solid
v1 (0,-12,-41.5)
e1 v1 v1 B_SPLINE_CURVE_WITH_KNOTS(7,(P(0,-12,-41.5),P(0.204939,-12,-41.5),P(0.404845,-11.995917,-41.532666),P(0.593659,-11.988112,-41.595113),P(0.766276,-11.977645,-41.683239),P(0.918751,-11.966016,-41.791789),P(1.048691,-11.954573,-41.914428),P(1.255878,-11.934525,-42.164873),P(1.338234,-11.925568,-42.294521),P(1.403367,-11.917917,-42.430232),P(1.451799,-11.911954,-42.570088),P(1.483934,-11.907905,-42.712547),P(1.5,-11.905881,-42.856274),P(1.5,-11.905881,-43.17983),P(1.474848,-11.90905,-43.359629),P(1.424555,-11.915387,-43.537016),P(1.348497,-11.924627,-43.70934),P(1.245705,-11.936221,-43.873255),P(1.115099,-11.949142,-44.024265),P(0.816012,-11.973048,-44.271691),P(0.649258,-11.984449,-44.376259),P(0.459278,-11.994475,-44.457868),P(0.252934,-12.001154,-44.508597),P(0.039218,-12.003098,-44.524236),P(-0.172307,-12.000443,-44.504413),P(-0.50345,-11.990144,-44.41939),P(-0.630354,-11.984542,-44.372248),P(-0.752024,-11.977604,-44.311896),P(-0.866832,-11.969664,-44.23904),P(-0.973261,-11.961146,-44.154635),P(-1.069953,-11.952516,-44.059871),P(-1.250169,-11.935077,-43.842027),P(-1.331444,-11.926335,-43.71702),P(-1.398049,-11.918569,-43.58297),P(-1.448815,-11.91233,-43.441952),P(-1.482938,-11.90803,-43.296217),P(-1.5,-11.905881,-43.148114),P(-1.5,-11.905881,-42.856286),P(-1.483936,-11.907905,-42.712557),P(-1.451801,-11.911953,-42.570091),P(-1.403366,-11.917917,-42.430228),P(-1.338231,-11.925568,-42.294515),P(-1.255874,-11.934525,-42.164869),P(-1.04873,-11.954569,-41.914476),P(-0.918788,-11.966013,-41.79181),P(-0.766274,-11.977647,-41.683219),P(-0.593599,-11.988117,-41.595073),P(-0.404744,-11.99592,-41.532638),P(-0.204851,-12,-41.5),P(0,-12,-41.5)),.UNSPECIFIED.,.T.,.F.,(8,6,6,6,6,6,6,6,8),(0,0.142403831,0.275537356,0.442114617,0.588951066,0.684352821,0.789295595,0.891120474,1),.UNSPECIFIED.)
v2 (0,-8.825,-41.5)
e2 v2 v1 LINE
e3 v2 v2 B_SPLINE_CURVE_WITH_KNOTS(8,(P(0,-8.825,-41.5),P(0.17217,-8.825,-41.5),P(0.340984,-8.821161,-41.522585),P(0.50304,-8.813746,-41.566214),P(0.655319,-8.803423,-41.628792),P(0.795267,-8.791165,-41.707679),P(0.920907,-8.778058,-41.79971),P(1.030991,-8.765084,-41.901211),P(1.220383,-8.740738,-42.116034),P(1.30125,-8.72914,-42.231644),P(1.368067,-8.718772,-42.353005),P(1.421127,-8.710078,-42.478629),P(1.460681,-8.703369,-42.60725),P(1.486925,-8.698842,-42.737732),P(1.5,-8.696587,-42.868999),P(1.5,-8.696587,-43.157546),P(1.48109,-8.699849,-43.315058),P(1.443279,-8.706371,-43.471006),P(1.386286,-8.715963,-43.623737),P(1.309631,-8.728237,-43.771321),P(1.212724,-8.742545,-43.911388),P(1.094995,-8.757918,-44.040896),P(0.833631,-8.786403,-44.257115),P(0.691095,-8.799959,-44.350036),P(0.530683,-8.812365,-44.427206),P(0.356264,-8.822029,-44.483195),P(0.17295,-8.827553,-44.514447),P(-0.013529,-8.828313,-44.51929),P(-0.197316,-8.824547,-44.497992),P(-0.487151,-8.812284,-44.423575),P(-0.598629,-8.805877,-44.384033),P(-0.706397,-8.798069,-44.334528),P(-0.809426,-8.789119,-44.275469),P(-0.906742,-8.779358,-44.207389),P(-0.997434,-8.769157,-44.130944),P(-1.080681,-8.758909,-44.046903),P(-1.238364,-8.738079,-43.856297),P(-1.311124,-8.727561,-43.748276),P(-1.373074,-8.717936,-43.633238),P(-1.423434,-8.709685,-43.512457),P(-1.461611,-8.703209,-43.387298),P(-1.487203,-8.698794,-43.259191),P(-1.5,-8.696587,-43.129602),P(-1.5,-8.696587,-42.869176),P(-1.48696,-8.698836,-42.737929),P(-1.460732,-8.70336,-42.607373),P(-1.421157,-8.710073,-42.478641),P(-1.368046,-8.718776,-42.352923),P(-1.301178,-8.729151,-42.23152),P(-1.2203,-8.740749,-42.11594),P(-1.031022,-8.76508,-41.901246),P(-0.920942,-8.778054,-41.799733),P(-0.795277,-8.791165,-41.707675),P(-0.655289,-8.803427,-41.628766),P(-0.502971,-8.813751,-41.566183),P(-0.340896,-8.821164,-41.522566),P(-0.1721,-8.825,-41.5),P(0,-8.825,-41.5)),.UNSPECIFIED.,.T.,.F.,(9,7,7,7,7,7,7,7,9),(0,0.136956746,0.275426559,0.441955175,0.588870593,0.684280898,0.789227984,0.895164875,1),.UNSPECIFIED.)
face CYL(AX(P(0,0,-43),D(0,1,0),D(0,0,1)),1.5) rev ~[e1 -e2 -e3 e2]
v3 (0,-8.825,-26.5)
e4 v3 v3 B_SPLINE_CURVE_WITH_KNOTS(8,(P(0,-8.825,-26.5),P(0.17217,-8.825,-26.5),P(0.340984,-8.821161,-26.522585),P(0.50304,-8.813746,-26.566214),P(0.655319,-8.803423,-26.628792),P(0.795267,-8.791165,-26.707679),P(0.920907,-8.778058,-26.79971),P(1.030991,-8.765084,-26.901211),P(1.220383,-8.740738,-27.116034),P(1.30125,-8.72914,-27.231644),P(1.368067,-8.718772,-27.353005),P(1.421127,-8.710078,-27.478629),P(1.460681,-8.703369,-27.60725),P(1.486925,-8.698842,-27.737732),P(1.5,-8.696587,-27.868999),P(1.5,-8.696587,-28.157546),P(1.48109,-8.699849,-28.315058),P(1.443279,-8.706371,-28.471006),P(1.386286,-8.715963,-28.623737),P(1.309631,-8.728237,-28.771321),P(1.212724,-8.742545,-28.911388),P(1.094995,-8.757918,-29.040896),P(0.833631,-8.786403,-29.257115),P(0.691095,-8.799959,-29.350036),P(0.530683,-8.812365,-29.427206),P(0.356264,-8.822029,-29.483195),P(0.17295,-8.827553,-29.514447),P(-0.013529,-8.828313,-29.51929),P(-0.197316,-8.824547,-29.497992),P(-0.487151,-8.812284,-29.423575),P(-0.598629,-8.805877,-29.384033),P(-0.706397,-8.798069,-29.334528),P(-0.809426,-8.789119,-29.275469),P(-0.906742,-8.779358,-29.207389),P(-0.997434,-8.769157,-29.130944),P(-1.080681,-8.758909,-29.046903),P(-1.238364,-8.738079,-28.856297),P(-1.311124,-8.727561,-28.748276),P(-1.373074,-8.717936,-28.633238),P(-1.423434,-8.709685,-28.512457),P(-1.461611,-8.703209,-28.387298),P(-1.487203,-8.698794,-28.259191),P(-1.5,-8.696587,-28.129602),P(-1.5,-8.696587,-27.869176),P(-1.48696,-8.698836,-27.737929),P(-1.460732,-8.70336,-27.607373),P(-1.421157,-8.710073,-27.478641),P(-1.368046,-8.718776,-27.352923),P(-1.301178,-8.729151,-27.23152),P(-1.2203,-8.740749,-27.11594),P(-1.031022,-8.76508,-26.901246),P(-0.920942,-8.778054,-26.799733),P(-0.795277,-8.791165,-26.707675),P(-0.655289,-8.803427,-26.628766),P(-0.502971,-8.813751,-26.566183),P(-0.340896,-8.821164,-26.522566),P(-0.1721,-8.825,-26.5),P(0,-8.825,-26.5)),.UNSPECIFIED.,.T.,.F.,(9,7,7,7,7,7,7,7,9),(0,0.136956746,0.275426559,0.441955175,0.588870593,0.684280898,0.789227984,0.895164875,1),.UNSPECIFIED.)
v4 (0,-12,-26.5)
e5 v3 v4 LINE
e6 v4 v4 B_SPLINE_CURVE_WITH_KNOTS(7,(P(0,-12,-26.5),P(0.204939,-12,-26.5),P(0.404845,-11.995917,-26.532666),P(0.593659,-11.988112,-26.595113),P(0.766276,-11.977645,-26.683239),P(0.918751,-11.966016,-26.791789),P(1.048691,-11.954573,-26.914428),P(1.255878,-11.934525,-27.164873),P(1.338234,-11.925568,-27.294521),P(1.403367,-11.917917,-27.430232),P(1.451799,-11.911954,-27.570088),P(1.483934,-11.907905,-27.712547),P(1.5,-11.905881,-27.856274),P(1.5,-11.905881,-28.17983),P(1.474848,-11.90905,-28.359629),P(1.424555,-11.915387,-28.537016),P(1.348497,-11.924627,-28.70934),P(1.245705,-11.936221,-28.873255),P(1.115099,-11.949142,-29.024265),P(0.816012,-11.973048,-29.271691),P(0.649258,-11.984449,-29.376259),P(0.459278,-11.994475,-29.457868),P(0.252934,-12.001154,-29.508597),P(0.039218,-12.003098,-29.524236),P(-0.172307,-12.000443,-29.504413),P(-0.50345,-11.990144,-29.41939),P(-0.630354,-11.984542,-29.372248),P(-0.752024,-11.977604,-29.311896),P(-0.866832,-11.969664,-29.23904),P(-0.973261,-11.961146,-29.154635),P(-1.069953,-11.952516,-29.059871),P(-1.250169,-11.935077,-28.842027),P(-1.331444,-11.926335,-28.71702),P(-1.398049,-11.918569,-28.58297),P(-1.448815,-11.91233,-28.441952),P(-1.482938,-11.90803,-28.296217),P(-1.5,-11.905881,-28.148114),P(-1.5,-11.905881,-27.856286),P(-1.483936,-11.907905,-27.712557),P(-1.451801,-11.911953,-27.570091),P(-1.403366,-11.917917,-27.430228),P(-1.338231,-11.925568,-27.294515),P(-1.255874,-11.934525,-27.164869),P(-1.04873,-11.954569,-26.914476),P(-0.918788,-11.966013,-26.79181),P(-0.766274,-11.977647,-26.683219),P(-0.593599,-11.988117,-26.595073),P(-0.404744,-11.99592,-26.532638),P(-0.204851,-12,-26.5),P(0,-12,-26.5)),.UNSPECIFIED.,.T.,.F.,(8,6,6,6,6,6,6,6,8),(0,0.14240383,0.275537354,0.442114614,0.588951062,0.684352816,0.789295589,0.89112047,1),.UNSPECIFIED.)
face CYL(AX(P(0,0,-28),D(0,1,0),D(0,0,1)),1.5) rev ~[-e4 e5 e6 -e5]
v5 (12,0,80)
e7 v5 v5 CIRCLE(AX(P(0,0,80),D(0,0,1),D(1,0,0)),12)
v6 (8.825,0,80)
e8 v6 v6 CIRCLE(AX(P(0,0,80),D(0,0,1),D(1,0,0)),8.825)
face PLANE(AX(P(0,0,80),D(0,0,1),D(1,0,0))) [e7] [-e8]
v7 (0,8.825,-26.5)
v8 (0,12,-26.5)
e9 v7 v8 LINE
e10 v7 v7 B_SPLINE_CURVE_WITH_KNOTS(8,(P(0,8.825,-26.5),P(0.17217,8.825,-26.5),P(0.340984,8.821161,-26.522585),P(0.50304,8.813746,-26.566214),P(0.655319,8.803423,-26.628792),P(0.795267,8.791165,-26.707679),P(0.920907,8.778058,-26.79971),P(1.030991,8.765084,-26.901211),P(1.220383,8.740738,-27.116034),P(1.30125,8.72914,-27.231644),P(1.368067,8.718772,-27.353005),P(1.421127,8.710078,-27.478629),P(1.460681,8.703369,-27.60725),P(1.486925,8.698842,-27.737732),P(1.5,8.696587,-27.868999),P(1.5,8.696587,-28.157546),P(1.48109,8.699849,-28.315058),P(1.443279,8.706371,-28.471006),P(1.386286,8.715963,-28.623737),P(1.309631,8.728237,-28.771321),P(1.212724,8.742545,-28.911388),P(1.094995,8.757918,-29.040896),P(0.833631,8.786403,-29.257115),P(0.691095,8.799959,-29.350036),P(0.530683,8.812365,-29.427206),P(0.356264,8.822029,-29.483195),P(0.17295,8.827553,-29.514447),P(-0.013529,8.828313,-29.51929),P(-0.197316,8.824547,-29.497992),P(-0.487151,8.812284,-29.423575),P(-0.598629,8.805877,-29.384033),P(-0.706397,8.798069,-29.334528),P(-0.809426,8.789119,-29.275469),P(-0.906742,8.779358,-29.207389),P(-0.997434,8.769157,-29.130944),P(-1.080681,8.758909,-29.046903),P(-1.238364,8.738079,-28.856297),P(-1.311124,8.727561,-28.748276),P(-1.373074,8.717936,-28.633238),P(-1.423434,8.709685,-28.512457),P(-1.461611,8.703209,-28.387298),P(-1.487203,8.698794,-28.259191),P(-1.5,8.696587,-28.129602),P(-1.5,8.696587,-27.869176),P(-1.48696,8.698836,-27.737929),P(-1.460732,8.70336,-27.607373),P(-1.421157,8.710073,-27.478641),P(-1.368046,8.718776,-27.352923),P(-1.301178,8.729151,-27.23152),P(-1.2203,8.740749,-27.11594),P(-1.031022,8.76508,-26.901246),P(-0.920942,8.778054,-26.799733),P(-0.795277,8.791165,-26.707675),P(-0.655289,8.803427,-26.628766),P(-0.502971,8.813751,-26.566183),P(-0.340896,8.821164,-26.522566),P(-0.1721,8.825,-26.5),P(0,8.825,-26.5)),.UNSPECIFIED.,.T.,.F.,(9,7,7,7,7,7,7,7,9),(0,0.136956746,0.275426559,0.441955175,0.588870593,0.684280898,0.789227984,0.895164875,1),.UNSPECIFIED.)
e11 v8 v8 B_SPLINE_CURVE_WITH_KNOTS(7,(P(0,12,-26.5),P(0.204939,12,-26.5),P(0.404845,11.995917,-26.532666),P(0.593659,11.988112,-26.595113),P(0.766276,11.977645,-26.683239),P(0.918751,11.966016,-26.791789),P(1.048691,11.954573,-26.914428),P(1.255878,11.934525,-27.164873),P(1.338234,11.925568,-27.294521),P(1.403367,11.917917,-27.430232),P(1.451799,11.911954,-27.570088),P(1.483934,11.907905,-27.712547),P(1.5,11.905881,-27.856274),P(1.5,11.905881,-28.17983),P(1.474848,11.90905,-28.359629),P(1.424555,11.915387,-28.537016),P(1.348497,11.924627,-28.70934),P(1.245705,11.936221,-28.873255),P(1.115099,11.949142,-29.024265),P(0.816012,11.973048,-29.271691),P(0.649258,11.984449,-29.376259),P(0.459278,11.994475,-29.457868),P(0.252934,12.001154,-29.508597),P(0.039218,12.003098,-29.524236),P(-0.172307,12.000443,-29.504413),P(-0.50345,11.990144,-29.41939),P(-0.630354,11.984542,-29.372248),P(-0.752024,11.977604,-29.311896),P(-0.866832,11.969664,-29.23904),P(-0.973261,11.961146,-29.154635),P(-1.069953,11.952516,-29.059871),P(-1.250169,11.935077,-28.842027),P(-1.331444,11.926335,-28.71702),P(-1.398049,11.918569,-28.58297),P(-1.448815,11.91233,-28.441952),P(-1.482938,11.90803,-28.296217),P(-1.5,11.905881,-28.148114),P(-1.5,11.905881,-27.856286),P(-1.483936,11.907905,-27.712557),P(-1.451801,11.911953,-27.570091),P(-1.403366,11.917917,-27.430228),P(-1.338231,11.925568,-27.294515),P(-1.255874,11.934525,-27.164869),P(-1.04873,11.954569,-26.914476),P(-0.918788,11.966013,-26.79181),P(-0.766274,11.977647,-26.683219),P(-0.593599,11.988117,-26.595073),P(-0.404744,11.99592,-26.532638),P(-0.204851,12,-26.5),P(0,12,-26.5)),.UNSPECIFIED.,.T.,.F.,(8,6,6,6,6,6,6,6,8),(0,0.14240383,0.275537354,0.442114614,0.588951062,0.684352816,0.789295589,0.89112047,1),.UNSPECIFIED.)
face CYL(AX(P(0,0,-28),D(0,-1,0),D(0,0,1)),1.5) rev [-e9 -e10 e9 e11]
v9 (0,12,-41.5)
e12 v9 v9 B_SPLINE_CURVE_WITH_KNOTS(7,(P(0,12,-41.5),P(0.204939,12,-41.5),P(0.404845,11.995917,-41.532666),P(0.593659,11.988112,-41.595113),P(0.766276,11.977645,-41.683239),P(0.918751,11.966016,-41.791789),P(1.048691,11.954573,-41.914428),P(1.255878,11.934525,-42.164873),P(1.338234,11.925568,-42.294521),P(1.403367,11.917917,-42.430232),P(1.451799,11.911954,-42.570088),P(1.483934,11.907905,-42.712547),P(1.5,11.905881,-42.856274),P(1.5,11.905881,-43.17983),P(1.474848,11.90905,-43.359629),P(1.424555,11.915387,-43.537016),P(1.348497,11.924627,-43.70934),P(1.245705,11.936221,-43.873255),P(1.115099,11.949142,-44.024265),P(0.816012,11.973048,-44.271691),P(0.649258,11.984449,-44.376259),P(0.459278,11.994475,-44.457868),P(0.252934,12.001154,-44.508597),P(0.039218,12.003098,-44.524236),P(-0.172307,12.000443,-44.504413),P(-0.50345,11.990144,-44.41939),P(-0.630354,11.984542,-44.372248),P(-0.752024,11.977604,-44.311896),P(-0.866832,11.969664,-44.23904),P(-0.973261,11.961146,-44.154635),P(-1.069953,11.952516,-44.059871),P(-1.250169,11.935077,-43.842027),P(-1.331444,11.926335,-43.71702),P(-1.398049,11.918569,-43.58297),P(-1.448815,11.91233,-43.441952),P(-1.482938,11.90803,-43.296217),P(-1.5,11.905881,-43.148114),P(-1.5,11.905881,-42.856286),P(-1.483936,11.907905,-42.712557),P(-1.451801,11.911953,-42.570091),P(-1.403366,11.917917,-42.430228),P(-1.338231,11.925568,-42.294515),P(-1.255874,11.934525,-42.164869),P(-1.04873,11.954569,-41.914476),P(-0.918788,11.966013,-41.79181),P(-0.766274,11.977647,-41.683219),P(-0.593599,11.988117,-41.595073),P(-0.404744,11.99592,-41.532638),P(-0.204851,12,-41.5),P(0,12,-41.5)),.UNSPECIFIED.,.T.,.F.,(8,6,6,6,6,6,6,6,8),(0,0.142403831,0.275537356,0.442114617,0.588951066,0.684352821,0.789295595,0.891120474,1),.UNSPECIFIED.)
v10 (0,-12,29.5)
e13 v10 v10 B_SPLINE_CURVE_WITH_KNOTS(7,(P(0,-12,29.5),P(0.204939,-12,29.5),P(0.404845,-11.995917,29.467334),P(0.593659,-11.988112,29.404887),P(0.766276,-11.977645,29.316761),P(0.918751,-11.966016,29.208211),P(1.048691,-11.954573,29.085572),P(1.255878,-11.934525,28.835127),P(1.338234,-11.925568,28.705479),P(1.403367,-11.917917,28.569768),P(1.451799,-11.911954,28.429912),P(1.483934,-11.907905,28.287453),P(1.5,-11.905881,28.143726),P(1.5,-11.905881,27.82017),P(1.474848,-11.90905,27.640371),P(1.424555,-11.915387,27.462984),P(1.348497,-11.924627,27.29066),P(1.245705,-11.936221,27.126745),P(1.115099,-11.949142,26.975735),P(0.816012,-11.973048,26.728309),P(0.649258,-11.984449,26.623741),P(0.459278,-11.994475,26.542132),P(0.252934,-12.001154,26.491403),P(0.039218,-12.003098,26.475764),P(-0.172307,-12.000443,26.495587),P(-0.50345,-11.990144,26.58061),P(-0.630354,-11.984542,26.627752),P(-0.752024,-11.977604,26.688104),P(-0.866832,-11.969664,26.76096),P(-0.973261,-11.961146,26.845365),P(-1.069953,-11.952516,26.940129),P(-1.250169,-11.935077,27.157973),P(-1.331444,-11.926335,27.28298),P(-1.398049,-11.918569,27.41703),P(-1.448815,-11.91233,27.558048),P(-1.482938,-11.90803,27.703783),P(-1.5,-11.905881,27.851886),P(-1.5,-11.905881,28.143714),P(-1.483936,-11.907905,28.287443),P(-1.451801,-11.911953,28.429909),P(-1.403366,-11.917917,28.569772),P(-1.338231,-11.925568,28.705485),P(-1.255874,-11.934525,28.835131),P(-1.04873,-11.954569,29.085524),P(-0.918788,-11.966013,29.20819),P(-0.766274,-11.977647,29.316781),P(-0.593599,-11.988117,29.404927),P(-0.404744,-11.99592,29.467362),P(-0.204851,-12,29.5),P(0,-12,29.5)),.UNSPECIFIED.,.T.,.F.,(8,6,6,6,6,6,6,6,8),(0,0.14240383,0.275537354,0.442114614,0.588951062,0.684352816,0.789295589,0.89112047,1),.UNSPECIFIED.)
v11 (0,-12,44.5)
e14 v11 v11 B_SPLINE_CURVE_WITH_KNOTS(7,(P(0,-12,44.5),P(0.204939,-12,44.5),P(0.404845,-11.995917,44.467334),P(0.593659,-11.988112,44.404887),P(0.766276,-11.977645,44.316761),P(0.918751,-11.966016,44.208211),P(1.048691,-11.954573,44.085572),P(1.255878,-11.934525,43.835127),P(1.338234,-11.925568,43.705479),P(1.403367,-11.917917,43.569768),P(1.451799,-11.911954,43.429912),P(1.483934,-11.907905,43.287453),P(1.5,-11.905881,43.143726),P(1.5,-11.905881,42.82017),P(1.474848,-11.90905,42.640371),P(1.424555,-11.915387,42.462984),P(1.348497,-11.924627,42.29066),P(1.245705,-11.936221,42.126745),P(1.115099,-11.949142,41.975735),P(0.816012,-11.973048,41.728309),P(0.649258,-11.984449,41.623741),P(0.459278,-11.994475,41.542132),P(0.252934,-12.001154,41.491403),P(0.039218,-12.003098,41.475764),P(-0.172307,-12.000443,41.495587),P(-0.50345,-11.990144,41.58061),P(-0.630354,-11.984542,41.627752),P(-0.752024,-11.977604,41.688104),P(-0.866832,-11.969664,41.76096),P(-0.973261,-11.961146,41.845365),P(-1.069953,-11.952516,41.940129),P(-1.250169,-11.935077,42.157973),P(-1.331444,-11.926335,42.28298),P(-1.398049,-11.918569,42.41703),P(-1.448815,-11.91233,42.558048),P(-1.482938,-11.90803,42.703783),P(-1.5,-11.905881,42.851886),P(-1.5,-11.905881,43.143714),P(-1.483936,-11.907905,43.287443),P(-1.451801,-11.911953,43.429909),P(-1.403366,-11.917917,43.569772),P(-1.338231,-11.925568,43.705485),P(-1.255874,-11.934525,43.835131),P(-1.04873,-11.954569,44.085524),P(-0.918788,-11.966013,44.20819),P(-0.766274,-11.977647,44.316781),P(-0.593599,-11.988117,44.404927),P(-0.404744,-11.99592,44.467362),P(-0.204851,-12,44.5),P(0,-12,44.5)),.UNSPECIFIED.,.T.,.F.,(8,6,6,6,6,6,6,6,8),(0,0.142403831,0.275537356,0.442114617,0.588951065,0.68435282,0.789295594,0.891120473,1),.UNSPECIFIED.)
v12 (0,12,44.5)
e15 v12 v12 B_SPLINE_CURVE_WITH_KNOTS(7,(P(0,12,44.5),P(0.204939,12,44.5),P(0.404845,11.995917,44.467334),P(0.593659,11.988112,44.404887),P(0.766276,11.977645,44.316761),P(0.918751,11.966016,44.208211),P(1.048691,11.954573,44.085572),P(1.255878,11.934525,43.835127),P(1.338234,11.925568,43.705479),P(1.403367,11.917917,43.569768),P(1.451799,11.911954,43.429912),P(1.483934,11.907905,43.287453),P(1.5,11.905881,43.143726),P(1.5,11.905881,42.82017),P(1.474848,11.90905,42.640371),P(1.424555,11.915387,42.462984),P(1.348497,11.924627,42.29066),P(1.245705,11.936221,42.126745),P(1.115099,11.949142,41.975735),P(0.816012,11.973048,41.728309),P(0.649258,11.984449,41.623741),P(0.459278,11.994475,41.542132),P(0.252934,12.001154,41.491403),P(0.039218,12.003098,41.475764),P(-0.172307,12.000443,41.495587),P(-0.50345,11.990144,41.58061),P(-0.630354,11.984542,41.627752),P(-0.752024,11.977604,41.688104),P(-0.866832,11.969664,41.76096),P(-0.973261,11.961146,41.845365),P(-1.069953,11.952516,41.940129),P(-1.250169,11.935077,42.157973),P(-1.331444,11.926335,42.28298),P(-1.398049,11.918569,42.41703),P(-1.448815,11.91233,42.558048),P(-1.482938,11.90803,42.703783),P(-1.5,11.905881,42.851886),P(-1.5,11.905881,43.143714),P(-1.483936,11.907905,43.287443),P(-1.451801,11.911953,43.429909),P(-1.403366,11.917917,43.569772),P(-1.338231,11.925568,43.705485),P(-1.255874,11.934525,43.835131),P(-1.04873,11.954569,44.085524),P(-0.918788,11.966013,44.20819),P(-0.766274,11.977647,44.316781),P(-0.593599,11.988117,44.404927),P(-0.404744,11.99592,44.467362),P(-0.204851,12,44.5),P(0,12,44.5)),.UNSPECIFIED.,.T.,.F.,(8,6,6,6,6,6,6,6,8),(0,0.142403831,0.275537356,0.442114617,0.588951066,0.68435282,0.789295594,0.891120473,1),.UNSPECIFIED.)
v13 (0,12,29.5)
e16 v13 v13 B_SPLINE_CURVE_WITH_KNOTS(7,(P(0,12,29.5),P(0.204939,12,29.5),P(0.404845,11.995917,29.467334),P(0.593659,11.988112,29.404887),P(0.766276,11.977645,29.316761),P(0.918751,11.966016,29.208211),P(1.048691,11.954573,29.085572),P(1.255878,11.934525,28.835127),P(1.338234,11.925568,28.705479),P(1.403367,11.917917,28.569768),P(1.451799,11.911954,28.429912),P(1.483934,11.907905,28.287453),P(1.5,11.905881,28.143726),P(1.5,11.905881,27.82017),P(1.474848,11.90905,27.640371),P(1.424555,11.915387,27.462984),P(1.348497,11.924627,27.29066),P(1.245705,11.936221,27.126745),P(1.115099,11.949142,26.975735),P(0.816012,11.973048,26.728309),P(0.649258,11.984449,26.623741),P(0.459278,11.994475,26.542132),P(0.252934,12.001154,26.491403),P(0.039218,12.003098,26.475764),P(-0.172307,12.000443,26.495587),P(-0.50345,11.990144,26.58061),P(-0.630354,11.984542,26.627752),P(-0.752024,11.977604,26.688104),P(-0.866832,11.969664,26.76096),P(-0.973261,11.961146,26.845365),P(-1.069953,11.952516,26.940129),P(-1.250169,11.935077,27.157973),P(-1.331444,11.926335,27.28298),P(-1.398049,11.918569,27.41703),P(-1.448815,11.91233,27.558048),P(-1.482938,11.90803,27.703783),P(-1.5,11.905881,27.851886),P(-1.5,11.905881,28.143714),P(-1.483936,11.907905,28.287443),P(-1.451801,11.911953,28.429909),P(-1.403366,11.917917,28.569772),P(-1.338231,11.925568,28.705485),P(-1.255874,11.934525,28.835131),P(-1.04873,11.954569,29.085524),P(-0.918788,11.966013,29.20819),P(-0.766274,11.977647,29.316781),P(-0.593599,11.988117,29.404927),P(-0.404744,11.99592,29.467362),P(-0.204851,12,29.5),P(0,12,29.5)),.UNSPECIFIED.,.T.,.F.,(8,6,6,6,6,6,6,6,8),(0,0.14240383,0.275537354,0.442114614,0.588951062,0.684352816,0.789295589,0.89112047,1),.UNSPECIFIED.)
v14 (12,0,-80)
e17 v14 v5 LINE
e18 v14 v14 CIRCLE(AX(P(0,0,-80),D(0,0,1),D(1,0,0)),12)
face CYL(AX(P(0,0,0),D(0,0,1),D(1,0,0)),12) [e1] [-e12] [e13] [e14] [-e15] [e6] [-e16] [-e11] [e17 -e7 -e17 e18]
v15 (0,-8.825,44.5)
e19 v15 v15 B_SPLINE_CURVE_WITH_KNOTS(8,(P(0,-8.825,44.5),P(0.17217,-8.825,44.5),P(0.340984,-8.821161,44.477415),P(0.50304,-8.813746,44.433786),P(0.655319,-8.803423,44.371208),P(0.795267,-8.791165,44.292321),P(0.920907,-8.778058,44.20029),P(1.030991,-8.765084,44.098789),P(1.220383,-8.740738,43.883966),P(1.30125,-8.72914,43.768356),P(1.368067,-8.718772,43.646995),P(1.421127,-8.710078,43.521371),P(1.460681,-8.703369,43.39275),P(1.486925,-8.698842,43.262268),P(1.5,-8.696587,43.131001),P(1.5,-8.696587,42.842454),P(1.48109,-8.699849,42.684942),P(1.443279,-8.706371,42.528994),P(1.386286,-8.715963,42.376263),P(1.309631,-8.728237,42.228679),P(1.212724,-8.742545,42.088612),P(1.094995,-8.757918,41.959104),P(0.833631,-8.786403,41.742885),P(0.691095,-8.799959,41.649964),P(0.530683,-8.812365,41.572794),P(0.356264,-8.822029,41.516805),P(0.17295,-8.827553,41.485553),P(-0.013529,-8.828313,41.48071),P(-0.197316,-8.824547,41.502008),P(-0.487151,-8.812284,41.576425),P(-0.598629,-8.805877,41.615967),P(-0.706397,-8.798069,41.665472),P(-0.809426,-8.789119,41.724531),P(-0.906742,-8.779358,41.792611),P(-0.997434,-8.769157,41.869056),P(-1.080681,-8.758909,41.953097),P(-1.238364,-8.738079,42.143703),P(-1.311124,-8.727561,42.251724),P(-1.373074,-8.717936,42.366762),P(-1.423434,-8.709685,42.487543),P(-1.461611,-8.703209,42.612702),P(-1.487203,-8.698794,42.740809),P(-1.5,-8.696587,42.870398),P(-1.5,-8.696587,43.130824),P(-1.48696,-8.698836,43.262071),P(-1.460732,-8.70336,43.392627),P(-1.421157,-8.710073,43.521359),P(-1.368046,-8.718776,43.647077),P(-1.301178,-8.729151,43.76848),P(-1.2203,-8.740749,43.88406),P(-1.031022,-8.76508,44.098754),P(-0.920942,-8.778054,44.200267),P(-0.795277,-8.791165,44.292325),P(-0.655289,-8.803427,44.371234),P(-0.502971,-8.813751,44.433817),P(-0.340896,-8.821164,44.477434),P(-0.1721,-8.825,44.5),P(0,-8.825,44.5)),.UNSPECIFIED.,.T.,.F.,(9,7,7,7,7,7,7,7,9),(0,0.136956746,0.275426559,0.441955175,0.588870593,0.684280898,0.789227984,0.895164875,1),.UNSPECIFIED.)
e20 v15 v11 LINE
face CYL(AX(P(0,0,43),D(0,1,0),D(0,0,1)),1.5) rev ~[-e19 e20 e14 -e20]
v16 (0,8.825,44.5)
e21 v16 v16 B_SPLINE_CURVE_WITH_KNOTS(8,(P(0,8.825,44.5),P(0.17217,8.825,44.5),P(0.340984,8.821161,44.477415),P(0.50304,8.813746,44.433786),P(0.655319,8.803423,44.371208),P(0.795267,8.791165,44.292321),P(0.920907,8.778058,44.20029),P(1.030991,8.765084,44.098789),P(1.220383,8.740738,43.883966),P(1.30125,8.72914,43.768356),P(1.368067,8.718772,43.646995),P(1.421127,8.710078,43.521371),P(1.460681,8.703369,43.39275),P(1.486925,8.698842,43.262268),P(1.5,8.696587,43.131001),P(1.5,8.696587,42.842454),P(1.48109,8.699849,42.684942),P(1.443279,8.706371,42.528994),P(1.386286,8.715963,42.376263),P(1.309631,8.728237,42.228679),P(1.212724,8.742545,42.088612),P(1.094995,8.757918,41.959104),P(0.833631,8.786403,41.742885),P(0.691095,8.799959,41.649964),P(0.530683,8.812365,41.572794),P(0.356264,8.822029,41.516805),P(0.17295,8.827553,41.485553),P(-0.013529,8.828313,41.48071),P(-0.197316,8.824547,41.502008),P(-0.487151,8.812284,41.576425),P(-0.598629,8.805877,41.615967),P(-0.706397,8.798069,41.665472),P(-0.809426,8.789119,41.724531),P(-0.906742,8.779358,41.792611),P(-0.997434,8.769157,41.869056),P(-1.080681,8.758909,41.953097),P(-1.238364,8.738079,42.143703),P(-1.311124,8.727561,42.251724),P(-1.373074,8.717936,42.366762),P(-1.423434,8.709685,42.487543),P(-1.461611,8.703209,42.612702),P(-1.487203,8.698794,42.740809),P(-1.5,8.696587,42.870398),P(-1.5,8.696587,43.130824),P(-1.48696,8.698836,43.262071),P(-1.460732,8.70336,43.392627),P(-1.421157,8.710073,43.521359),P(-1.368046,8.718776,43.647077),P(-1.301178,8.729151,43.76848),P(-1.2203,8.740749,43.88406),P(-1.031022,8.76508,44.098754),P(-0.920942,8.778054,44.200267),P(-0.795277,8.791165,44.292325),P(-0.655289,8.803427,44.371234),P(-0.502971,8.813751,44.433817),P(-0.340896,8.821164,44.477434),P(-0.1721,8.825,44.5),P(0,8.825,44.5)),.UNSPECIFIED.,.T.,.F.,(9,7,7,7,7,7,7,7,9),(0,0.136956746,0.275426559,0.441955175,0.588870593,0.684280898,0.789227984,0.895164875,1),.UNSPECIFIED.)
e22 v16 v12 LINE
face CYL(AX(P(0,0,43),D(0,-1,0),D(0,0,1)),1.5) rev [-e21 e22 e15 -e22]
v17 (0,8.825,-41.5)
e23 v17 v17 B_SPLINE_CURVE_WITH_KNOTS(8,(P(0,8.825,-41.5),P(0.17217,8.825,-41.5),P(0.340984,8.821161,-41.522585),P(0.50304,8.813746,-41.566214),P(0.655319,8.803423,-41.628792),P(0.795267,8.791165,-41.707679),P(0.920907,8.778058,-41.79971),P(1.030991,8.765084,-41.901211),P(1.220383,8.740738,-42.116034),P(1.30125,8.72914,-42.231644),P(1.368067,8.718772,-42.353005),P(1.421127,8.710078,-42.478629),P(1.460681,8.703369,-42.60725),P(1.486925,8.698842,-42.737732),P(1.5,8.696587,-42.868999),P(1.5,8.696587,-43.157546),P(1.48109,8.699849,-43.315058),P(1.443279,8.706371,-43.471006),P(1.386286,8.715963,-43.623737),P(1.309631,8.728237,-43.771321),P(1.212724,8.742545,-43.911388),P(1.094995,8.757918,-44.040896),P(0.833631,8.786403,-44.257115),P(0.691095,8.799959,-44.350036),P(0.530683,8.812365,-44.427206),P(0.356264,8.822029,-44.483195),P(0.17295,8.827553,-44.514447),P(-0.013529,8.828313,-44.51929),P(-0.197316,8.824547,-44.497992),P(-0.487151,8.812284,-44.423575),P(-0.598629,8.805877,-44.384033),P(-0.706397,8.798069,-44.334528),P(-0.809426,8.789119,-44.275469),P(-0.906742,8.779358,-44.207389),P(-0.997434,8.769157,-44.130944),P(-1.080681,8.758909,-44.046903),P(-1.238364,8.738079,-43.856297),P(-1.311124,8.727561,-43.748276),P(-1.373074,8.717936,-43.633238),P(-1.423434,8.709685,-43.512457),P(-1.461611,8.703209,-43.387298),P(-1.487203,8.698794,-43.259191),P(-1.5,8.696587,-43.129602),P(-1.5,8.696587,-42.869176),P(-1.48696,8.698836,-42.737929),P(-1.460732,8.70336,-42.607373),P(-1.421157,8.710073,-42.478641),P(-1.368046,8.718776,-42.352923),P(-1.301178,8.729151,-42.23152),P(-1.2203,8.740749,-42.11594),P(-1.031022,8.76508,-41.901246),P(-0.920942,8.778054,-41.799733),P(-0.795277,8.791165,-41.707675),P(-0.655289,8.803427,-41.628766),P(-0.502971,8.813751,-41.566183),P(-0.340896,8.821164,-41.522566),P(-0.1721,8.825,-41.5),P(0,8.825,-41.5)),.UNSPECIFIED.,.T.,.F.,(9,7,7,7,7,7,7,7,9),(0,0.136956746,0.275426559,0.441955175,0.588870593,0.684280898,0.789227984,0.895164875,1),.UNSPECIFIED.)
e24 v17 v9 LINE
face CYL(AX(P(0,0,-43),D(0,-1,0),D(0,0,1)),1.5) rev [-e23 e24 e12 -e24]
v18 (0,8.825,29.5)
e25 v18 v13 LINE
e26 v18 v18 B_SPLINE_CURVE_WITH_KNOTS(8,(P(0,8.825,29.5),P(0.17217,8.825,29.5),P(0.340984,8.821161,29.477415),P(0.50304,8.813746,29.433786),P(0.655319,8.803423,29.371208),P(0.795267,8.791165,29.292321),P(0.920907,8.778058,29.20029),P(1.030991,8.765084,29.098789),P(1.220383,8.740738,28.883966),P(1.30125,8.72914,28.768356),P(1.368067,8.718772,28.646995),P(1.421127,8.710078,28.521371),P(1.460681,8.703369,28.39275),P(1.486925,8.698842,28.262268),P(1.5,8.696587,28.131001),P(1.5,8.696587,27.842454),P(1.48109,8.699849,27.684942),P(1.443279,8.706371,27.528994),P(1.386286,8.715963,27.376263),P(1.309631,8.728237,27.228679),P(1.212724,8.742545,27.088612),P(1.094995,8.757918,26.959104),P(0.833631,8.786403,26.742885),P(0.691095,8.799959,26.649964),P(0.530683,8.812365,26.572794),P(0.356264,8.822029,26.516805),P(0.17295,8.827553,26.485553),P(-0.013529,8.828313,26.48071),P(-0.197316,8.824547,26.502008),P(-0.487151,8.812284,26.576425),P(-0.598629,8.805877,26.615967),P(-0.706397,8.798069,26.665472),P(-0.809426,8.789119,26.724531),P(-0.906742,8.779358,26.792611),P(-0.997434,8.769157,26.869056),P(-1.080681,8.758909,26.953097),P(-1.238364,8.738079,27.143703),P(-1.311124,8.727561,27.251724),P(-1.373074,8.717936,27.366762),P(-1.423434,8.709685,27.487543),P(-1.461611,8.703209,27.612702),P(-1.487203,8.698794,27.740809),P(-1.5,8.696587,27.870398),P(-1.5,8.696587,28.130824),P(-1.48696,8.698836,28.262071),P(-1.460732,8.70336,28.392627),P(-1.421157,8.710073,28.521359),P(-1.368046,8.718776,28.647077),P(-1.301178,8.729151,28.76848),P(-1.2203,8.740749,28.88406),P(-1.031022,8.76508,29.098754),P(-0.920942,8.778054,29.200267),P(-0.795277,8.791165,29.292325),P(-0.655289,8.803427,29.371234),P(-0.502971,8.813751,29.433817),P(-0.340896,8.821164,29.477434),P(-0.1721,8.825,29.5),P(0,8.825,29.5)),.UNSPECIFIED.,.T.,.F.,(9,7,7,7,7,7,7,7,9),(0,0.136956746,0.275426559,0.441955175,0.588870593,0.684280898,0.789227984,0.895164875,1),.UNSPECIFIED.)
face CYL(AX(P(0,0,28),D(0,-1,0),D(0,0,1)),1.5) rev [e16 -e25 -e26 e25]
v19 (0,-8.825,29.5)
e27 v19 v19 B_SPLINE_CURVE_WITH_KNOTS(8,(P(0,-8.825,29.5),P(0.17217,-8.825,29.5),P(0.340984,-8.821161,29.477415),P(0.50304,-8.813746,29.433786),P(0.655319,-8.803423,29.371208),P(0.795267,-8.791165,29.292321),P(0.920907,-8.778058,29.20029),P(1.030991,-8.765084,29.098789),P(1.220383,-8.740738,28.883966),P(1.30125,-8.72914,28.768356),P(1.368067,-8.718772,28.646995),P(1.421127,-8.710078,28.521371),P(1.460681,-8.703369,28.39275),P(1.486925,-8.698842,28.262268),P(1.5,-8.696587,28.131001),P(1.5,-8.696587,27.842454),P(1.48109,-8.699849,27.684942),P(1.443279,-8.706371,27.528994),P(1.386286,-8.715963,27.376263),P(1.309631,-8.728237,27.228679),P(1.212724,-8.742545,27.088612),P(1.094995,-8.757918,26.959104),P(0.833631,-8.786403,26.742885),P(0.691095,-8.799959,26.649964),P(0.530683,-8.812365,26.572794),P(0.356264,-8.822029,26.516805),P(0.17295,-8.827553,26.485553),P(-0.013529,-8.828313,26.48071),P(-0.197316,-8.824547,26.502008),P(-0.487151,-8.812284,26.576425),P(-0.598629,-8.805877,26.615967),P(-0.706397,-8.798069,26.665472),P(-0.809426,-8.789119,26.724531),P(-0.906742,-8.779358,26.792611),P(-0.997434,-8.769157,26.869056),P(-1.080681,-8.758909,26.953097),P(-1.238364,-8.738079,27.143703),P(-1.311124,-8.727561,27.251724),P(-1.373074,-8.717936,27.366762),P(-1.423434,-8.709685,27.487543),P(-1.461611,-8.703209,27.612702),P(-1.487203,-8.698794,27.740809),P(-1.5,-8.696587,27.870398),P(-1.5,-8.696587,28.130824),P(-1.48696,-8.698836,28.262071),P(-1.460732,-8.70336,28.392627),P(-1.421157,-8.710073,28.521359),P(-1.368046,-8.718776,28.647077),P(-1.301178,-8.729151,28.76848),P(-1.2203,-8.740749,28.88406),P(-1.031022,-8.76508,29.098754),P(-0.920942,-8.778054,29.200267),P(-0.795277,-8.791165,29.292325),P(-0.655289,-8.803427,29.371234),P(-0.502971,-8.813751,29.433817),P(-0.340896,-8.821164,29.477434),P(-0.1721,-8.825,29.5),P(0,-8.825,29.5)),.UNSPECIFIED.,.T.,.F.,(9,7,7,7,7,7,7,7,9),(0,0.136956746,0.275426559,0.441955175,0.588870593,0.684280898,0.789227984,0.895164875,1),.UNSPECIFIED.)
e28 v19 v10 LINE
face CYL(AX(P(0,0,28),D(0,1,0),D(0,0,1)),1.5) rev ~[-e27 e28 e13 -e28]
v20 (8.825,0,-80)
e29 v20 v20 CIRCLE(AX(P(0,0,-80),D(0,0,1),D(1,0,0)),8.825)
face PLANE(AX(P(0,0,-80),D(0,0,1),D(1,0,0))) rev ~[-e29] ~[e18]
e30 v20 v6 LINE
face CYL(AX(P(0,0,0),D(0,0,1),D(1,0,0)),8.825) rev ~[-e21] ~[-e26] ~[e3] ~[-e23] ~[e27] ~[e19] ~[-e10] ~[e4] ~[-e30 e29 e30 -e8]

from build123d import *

# Parameters (mm, degrees)
SKETCH1_R               = 12
BOSS_EXTRUDE1_DEPTH     = 80
SHELL1_T                = -3.175
SKETCH3_R               = 1.5
CUT_EXTRUDE1_DEPTH      = 82.780193201
CUT_EXTRUDE1_DEPTH_BACK = 82.780193201


with BuildPart() as part:
    # Sketch1 → Boss-Extrude1 (new, symmetric)
    with BuildSketch(Plane.XY):
        Circle(SKETCH1_R)
    extrude(amount=BOSS_EXTRUDE1_DEPTH, both=True)

    # Shell1
    shell1_openings = [part.faces().sort_by_distance(p)[0] for p in [
        (0, 0, 80),
        (0, 0, -80),
    ]]
    offset(amount=SHELL1_T, openings=shell1_openings, kind=Kind.INTERSECTION)

    # Sketch3 → Cut-Extrude1 (cut, two sides)
    with BuildSketch(Plane(origin=(0, 0, 0), x_dir=(1, 0, 0), z_dir=(0, 1, 0))) as cut_extrude1_sk:
        with Locations(Location((0, 28, 0), (0, 0, 270))):
            Circle(SKETCH3_R)
        with Locations(Location((0, -28, 0), (0, 0, 270))):
            Circle(SKETCH3_R)
        with Locations(Location((0, -43, 0), (0, 0, 270))):
            Circle(SKETCH3_R)
        with Locations(Location((0, 43, 0), (0, 0, 270))):
            Circle(SKETCH3_R)
    extrude(amount=CUT_EXTRUDE1_DEPTH, mode=Mode.SUBTRACT)
    extrude(cut_extrude1_sk.sketch, amount=-CUT_EXTRUDE1_DEPTH_BACK, mode=Mode.SUBTRACT)


solid = part.part
